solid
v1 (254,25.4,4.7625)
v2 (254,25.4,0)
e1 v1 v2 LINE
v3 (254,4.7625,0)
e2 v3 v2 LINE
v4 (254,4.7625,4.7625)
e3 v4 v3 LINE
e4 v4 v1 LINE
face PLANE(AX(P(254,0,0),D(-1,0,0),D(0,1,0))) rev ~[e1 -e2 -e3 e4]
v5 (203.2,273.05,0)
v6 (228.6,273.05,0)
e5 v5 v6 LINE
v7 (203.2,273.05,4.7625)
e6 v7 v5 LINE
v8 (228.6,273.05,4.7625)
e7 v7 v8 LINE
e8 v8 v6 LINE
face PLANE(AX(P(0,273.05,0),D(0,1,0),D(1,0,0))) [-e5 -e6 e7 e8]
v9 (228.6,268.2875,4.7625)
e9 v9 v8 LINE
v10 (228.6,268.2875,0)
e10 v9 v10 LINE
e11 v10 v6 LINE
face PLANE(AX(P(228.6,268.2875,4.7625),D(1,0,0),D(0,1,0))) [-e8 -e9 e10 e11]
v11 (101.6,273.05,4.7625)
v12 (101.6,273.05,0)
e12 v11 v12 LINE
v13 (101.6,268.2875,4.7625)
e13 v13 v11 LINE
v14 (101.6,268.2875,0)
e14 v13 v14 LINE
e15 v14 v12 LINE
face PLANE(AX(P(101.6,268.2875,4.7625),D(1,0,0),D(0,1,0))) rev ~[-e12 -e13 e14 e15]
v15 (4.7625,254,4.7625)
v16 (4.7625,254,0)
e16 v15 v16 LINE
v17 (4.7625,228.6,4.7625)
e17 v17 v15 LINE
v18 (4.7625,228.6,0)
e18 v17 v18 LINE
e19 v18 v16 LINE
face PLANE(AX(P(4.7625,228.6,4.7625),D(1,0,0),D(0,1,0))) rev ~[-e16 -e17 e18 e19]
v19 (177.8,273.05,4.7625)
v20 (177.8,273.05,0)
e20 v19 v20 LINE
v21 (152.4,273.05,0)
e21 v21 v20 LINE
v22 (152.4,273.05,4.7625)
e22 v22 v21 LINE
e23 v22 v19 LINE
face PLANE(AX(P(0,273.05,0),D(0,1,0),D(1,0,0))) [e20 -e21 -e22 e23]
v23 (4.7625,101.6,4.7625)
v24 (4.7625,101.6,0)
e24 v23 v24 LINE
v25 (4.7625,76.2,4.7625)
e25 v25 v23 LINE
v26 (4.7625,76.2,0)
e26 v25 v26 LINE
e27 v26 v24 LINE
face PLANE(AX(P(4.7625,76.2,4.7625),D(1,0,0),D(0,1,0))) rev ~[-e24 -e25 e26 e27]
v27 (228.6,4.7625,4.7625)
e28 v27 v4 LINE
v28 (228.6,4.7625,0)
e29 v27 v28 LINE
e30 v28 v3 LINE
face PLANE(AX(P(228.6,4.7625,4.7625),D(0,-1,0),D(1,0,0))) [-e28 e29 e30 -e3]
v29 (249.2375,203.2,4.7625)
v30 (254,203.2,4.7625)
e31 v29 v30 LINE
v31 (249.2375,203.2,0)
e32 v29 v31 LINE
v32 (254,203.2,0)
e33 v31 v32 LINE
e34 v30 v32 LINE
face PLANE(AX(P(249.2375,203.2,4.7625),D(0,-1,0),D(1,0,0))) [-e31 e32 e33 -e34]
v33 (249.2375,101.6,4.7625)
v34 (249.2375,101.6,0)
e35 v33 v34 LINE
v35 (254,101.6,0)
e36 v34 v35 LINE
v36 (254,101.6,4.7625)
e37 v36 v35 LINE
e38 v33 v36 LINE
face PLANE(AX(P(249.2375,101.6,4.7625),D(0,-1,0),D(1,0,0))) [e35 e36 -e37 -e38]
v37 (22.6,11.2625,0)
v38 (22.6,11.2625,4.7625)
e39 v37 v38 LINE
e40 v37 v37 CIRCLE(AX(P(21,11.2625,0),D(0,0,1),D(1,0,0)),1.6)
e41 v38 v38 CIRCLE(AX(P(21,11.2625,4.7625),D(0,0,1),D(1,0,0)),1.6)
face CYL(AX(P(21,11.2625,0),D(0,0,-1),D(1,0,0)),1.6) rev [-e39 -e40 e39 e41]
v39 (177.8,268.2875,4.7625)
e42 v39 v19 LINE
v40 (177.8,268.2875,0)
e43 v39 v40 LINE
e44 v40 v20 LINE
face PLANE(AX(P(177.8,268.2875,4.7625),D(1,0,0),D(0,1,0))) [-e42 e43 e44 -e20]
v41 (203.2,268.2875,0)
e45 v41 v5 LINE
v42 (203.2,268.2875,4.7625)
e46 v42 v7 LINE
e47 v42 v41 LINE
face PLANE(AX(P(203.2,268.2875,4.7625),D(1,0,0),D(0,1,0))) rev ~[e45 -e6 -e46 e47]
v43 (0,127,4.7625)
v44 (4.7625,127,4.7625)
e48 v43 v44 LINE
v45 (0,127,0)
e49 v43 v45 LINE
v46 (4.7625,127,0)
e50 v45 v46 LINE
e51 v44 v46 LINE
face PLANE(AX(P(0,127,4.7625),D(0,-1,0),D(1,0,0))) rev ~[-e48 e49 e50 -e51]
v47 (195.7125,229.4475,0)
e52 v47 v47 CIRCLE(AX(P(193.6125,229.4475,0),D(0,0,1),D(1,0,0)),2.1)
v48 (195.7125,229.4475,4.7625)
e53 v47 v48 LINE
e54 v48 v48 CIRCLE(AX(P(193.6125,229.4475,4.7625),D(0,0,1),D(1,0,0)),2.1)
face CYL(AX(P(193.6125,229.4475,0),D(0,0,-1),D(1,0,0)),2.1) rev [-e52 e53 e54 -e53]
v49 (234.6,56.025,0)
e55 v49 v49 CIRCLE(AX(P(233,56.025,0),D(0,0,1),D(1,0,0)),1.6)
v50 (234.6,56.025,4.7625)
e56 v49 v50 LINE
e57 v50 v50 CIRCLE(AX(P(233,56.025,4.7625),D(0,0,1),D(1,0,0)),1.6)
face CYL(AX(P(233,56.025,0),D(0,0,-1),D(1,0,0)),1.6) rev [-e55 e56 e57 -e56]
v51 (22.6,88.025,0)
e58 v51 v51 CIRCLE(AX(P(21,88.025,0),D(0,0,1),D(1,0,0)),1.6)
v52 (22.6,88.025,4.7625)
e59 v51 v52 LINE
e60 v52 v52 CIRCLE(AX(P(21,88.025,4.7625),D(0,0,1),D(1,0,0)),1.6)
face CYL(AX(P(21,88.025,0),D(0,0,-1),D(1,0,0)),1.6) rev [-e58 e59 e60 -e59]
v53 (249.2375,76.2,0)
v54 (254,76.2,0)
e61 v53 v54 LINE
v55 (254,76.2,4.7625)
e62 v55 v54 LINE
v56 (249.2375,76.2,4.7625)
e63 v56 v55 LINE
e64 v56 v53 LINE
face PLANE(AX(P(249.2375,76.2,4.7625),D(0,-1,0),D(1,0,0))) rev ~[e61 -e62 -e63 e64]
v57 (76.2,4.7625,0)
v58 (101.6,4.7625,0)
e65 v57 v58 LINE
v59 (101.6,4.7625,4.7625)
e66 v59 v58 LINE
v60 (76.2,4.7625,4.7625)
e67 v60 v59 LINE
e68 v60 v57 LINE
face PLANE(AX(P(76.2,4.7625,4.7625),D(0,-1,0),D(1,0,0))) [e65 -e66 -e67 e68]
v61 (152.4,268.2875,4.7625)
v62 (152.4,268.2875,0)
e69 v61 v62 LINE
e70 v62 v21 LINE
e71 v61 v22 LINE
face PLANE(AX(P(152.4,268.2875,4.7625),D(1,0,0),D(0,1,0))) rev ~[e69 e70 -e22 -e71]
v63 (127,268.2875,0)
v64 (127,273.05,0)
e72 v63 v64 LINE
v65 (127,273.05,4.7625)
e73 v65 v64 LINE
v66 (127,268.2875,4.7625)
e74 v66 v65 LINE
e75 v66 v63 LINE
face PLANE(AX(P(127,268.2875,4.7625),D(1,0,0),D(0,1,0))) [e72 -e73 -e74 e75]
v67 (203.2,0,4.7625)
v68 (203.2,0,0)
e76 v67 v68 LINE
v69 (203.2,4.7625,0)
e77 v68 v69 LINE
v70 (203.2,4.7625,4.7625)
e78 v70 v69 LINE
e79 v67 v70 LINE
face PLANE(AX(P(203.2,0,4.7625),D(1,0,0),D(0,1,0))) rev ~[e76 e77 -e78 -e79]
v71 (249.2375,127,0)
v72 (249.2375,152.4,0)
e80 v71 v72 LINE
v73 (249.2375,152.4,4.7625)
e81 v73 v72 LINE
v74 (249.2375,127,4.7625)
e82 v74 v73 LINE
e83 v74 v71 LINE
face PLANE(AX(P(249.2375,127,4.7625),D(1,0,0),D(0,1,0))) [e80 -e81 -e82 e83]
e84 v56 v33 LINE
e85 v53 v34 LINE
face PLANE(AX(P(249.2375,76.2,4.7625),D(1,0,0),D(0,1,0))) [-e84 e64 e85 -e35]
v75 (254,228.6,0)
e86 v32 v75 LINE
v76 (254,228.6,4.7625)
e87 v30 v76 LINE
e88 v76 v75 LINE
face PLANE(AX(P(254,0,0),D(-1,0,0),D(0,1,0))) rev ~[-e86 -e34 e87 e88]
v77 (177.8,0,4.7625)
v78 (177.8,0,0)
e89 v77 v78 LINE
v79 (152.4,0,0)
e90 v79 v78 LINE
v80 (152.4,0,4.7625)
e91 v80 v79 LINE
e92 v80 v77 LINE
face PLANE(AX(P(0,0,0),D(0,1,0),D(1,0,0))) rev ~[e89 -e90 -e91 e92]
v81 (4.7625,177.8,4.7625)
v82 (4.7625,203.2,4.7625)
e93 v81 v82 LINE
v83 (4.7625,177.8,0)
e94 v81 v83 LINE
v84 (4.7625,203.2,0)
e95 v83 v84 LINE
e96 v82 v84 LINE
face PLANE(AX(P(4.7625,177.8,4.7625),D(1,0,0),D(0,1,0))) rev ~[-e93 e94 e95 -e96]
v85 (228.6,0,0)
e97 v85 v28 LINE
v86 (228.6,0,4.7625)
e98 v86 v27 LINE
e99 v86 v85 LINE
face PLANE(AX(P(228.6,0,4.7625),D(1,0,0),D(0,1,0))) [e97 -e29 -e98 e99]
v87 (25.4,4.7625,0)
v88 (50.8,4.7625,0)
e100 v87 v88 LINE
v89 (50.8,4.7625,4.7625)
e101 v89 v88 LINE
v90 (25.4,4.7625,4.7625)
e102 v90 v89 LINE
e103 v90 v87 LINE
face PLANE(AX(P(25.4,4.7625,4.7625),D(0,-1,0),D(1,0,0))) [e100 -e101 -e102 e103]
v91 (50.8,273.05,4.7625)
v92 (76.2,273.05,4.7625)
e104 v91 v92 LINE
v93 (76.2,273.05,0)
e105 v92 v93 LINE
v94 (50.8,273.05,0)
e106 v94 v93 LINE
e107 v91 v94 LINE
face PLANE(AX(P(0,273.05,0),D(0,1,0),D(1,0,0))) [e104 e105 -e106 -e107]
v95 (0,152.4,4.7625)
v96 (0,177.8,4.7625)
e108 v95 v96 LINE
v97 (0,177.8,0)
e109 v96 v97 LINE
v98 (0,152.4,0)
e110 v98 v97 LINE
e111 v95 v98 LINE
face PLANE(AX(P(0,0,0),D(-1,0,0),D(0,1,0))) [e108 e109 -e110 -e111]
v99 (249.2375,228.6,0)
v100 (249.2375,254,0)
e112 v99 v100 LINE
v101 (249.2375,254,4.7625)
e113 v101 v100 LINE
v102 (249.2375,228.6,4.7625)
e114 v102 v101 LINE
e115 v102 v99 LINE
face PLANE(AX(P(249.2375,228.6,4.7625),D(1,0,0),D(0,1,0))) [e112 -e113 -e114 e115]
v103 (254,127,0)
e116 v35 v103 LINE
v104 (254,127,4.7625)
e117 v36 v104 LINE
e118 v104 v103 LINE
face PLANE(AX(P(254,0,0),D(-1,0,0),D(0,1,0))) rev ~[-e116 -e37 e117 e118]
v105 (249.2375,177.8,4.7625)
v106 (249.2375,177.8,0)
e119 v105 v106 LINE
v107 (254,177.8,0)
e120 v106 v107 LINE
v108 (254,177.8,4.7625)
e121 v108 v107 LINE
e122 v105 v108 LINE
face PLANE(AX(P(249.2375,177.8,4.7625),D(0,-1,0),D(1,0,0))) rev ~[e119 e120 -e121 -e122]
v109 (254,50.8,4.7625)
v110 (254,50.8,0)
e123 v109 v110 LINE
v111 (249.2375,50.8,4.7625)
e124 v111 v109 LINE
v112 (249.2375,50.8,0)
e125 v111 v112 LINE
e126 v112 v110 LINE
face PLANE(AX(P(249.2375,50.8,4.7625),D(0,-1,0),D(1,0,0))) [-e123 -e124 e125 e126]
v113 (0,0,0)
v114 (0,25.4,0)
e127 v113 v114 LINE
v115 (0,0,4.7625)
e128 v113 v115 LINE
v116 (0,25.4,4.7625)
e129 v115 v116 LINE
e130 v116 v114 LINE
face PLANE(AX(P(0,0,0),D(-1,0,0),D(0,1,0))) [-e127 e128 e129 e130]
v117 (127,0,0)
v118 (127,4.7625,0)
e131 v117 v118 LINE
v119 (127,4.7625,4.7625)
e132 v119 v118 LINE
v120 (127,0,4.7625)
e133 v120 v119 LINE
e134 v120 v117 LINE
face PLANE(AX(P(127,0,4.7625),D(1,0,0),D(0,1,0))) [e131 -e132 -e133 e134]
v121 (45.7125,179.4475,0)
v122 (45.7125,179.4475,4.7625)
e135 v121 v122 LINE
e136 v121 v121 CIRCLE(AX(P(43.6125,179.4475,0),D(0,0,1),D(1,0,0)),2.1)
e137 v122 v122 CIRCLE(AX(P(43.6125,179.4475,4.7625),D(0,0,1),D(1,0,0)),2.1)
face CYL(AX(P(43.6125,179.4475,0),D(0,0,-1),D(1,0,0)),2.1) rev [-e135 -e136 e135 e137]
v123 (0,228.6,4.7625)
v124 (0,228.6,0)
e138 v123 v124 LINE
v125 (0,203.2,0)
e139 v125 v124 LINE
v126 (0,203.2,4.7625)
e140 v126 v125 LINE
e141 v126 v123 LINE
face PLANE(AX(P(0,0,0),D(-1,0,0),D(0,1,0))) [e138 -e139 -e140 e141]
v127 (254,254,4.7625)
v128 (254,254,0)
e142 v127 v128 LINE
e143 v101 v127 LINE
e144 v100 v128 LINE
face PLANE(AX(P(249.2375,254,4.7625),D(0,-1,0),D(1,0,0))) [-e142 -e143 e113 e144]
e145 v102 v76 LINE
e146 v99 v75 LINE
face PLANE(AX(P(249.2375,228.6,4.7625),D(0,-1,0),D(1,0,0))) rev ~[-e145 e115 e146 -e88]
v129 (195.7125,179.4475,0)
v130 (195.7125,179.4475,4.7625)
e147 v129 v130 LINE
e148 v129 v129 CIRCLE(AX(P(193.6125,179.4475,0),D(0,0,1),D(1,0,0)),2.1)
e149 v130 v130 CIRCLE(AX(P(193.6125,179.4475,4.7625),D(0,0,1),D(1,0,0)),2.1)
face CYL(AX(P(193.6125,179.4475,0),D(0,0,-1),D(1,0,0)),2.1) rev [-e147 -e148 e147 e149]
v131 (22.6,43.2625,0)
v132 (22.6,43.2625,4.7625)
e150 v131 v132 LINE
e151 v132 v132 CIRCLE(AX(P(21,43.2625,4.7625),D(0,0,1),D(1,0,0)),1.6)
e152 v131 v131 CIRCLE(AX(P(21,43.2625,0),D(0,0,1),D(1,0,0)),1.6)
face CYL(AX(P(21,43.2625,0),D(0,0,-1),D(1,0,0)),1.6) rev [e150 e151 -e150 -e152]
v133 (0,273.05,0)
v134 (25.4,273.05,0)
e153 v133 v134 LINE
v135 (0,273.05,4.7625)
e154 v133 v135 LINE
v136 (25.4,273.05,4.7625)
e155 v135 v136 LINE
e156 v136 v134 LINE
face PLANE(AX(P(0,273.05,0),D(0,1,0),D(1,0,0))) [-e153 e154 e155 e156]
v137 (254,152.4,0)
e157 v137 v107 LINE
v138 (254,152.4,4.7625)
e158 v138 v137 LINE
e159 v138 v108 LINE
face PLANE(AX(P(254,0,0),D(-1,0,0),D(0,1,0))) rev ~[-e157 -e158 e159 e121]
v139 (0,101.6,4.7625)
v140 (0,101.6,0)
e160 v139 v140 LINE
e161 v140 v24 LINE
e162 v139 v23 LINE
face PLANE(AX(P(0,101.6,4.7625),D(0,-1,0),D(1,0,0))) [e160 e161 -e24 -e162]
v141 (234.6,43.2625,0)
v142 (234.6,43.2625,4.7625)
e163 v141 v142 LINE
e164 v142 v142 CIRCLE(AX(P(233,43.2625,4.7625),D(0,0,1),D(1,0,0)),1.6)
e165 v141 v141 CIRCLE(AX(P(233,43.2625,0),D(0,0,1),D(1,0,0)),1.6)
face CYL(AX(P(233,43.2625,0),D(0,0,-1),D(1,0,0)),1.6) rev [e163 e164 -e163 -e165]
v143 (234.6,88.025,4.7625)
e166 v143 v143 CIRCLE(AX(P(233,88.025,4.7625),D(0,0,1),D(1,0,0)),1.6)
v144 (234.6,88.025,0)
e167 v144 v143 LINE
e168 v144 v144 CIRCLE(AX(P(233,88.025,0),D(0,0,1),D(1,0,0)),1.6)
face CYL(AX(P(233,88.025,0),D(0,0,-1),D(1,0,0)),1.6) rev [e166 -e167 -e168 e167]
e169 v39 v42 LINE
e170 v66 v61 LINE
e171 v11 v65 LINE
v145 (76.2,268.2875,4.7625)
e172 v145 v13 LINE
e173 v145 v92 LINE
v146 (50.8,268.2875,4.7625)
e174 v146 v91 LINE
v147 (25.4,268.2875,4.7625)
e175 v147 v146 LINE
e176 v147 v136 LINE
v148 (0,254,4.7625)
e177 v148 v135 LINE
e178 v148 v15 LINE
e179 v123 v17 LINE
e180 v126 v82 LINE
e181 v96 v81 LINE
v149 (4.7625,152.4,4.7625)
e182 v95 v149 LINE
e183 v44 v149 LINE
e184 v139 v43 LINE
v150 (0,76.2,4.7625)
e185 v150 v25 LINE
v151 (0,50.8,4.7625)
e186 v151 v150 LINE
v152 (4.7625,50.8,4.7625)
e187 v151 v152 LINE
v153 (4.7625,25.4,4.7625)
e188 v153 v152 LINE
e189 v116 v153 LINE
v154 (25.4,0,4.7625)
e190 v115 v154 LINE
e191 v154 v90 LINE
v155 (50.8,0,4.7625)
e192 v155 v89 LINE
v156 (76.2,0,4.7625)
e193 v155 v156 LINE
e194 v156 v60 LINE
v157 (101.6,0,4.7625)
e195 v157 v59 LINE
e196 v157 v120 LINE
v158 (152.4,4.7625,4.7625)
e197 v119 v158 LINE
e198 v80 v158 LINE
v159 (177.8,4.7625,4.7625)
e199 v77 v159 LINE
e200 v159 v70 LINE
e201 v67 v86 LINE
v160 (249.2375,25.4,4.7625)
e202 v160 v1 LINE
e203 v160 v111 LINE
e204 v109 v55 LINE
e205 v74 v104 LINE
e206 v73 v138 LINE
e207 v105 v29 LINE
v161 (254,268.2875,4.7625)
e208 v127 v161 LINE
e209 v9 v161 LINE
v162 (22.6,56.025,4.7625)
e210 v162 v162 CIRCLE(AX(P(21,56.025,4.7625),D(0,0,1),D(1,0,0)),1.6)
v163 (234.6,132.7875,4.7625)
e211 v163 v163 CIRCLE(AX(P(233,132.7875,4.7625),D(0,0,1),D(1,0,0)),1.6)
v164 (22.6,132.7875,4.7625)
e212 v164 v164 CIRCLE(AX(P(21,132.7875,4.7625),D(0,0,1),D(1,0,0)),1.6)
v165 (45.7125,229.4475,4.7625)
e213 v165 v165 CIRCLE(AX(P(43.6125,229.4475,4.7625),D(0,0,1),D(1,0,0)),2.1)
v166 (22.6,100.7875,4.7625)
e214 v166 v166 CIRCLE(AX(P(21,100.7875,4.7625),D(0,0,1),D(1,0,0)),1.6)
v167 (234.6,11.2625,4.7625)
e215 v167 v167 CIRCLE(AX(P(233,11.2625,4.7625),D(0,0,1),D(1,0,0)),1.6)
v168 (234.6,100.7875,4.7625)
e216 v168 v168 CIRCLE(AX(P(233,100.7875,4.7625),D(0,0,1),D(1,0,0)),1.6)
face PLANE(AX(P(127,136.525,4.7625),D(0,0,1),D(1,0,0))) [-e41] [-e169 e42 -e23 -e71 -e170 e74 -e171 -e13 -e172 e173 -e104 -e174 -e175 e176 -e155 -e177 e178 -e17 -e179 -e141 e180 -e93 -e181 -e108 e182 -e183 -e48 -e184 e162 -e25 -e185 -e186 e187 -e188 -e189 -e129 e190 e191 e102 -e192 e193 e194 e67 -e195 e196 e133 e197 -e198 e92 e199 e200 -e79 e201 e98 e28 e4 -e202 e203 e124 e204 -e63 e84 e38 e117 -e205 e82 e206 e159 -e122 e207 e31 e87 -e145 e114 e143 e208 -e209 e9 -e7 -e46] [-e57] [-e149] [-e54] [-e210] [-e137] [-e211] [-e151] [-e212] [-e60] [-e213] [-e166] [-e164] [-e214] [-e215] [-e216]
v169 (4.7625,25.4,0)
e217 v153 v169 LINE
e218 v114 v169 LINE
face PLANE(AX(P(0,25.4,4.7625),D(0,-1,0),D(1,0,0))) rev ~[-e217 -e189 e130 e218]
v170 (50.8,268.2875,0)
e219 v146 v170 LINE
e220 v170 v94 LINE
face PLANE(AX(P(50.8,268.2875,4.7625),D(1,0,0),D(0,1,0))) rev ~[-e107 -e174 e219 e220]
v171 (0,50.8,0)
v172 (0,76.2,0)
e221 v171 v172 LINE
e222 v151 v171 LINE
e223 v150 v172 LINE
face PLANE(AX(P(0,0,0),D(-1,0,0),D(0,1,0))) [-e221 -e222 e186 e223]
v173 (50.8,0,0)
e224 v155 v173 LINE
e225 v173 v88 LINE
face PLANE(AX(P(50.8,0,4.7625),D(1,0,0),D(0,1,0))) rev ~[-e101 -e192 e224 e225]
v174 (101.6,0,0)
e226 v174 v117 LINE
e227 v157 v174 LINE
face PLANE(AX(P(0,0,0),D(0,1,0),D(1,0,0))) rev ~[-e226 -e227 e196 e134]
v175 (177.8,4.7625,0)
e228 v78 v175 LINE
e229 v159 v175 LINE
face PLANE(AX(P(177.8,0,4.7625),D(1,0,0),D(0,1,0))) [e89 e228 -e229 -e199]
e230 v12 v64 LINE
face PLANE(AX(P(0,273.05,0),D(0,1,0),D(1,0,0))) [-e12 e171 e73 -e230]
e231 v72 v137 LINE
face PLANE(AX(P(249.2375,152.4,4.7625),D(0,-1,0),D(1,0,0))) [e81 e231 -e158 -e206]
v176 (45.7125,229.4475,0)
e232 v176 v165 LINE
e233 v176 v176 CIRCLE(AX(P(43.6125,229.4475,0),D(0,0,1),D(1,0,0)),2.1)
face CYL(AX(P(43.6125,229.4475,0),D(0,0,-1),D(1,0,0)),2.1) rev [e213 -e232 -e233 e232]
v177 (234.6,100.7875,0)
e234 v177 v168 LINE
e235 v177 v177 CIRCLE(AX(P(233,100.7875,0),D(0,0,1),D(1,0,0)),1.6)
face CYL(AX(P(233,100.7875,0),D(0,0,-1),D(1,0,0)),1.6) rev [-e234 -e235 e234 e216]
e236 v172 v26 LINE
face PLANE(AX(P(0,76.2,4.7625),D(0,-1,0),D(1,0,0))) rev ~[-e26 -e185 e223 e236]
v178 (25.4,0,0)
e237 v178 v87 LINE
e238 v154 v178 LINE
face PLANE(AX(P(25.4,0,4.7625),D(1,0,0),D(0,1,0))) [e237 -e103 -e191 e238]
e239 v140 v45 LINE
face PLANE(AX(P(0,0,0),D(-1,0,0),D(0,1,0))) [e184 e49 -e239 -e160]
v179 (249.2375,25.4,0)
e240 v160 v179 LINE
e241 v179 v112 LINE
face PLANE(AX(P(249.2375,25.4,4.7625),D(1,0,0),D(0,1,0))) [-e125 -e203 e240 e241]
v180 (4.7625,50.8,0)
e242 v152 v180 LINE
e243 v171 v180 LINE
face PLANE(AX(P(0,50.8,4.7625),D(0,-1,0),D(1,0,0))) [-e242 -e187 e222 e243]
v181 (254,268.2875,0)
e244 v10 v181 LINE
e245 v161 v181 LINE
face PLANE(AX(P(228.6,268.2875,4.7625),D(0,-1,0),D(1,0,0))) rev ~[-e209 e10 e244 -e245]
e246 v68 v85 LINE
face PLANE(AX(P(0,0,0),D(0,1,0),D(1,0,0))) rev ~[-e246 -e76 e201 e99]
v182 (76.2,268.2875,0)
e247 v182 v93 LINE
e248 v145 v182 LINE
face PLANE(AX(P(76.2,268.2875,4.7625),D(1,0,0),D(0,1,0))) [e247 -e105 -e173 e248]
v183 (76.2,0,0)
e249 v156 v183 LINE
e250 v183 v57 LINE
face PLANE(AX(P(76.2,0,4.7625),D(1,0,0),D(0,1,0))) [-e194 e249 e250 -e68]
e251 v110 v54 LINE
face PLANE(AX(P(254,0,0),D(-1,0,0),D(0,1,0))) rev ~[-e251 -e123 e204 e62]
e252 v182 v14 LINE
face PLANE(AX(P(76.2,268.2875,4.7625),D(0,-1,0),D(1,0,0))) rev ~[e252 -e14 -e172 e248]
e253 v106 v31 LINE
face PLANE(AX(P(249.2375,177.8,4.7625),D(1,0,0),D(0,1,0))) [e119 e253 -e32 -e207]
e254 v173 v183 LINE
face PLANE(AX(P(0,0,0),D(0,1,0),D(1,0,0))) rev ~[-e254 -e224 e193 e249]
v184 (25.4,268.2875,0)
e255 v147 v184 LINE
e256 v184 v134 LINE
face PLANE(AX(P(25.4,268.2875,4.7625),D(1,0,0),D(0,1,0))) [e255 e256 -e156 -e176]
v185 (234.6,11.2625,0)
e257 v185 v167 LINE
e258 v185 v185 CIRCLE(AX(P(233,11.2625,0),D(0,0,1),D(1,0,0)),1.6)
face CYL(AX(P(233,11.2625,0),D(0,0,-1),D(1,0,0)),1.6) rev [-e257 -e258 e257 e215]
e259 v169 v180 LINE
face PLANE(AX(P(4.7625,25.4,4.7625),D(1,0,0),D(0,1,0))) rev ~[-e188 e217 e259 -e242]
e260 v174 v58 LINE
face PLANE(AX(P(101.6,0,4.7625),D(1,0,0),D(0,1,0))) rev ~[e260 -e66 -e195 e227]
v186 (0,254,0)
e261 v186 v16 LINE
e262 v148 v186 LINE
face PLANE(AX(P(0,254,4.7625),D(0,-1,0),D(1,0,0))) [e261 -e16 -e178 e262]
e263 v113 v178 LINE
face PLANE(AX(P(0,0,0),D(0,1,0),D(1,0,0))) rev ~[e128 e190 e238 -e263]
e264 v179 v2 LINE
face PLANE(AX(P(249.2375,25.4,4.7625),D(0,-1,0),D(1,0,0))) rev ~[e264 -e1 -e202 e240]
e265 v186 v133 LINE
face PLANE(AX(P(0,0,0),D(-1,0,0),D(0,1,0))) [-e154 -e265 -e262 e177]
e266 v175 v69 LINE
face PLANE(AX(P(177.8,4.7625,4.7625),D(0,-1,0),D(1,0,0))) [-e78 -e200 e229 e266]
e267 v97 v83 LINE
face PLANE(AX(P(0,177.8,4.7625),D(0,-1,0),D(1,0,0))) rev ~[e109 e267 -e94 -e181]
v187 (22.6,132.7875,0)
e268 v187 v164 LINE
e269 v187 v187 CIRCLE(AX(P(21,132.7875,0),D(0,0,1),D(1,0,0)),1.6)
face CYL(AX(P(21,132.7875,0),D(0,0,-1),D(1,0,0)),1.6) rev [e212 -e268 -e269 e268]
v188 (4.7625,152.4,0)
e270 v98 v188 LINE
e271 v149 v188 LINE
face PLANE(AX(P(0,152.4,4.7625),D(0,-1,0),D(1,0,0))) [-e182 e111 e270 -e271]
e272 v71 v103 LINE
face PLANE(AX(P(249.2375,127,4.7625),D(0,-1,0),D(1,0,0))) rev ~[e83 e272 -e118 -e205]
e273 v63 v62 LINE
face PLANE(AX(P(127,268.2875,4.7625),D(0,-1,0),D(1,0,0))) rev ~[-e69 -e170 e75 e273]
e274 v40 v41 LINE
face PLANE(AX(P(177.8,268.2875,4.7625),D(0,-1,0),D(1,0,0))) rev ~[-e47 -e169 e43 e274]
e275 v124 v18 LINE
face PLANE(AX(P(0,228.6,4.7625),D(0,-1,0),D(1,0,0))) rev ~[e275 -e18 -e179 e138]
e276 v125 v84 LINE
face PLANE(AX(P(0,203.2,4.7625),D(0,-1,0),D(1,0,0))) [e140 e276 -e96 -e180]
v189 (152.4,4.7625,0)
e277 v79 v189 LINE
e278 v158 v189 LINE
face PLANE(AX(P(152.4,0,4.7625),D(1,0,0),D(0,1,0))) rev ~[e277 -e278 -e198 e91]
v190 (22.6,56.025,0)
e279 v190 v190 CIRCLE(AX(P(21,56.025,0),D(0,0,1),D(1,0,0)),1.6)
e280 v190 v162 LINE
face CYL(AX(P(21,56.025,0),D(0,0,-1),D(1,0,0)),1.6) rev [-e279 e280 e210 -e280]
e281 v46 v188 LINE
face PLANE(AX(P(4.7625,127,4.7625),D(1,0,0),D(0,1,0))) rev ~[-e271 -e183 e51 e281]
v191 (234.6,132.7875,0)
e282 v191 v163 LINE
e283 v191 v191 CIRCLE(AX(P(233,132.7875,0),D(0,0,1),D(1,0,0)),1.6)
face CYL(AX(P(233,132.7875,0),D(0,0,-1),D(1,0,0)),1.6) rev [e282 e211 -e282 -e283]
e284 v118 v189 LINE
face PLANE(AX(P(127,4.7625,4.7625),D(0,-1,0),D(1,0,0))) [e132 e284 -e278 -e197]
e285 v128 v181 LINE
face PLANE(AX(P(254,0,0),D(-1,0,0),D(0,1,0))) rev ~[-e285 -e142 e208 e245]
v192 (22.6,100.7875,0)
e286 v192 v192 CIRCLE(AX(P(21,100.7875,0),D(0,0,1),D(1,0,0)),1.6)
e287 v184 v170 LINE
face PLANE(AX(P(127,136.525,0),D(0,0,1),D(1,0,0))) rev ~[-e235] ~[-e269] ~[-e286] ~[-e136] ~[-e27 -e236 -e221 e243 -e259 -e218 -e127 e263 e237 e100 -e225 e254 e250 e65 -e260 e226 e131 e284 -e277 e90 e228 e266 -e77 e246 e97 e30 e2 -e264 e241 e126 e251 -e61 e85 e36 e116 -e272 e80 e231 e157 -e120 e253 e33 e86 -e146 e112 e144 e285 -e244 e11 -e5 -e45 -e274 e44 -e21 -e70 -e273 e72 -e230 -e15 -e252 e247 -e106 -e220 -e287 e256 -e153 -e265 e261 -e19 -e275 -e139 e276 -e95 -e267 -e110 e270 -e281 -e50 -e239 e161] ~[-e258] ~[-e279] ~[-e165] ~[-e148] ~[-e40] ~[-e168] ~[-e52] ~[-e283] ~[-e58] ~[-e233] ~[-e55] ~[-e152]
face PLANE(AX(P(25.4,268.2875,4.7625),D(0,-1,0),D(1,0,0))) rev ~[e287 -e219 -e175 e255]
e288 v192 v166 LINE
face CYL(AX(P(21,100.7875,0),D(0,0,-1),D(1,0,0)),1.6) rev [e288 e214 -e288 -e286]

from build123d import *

# Parameters (mm, degrees)
F0_W     = 254
F0_H     = 273.05
F0_R     = 1.6
F0_R_2   = 2.1
F1_DEPTH = 4.7625
F2_W     = 25.4
F2_H     = 4.7625
F2_W_2   = 4.7625
F2_H_2   = 25.4
F3_DEPTH = 25.4


with BuildPart() as f1:
    # F0 (on Top) → F1 (new body)
    with BuildSketch(Plane.XY):
        with Locations((127, 136.525)):
            Rectangle(F0_W, F0_H)
        with Locations((21, 11.2625)):
            Circle(F0_R, mode=Mode.SUBTRACT)
        with Locations((21, 43.2625)):
            Circle(F0_R, mode=Mode.SUBTRACT)
        with Locations((21, 56.025)):
            Circle(F0_R, mode=Mode.SUBTRACT)
        with Locations((21, 88.025)):
            Circle(F0_R, mode=Mode.SUBTRACT)
        with Locations((21, 100.7875)):
            Circle(F0_R, mode=Mode.SUBTRACT)
        with Locations((21, 132.7875)):
            Circle(F0_R, mode=Mode.SUBTRACT)
        with Locations((233, 11.2625)):
            Circle(F0_R, mode=Mode.SUBTRACT)
        with Locations((233, 43.2625)):
            Circle(F0_R, mode=Mode.SUBTRACT)
        with Locations((233, 56.025)):
            Circle(F0_R, mode=Mode.SUBTRACT)
        with Locations((233, 88.025)):
            Circle(F0_R, mode=Mode.SUBTRACT)
        with Locations((233, 100.7875)):
            Circle(F0_R, mode=Mode.SUBTRACT)
        with Locations((233, 132.7875)):
            Circle(F0_R, mode=Mode.SUBTRACT)
        with Locations((43.6125, 179.4475)):
            Circle(F0_R_2, mode=Mode.SUBTRACT)
        with Locations((43.6125, 229.4475)):
            Circle(F0_R_2, mode=Mode.SUBTRACT)
        with Locations((193.6125, 179.4475)):
            Circle(F0_R_2, mode=Mode.SUBTRACT)
        with Locations((193.6125, 229.4475)):
            Circle(F0_R_2, mode=Mode.SUBTRACT)
    extrude(amount=F1_DEPTH)

    # F2 (on face) → F3 (cut)
    with BuildSketch(Plane.XY.offset(4.7625)):
        with Locations((38.1, 2.38125)):
            Rectangle(F2_W, F2_H)
        with Locations((88.9, 2.38125)):
            Rectangle(F2_W, F2_H)
        with Locations((139.7, 2.38125)):
            Rectangle(F2_W, F2_H)
        with Locations((190.5, 2.38125)):
            Rectangle(F2_W, F2_H)
        with Locations((241.3, 2.38125)):
            Rectangle(F2_W, F2_H)
        with Locations((2.38125, 241.3)):
            Rectangle(F2_W_2, F2_H_2)
        with Locations((2.38125, 190.5)):
            Rectangle(F2_W_2, F2_H_2)
        with Locations((2.38125, 139.7)):
            Rectangle(F2_W_2, F2_H_2)
        with Locations((2.38125, 88.9)):
            Rectangle(F2_W_2, F2_H_2)
        with Locations((2.38125, 38.1)):
            Rectangle(F2_W_2, F2_H_2)
        with Locations((251.61875, 241.3)):
            Rectangle(F2_W_2, F2_H_2)
        with Locations((251.61875, 190.5)):
            Rectangle(F2_W_2, F2_H_2)
        with Locations((251.61875, 139.7)):
            Rectangle(F2_W_2, F2_H_2)
        with Locations((251.61875, 88.9)):
            Rectangle(F2_W_2, F2_H_2)
        with Locations((251.61875, 38.1)):
            Rectangle(F2_W_2, F2_H_2)
        with Locations((38.1, 270.66875)):
            Rectangle(F2_W, F2_H)
        with Locations((88.9, 270.66875)):
            Rectangle(F2_W, F2_H)
        with Locations((139.7, 270.66875)):
            Rectangle(F2_W, F2_H)
        with Locations((190.5, 270.66875)):
            Rectangle(F2_W, F2_H)
        with Locations((241.3, 270.66875)):
            Rectangle(F2_W, F2_H)
    extrude(amount=-F3_DEPTH, mode=Mode.SUBTRACT)


solid = f1.part
